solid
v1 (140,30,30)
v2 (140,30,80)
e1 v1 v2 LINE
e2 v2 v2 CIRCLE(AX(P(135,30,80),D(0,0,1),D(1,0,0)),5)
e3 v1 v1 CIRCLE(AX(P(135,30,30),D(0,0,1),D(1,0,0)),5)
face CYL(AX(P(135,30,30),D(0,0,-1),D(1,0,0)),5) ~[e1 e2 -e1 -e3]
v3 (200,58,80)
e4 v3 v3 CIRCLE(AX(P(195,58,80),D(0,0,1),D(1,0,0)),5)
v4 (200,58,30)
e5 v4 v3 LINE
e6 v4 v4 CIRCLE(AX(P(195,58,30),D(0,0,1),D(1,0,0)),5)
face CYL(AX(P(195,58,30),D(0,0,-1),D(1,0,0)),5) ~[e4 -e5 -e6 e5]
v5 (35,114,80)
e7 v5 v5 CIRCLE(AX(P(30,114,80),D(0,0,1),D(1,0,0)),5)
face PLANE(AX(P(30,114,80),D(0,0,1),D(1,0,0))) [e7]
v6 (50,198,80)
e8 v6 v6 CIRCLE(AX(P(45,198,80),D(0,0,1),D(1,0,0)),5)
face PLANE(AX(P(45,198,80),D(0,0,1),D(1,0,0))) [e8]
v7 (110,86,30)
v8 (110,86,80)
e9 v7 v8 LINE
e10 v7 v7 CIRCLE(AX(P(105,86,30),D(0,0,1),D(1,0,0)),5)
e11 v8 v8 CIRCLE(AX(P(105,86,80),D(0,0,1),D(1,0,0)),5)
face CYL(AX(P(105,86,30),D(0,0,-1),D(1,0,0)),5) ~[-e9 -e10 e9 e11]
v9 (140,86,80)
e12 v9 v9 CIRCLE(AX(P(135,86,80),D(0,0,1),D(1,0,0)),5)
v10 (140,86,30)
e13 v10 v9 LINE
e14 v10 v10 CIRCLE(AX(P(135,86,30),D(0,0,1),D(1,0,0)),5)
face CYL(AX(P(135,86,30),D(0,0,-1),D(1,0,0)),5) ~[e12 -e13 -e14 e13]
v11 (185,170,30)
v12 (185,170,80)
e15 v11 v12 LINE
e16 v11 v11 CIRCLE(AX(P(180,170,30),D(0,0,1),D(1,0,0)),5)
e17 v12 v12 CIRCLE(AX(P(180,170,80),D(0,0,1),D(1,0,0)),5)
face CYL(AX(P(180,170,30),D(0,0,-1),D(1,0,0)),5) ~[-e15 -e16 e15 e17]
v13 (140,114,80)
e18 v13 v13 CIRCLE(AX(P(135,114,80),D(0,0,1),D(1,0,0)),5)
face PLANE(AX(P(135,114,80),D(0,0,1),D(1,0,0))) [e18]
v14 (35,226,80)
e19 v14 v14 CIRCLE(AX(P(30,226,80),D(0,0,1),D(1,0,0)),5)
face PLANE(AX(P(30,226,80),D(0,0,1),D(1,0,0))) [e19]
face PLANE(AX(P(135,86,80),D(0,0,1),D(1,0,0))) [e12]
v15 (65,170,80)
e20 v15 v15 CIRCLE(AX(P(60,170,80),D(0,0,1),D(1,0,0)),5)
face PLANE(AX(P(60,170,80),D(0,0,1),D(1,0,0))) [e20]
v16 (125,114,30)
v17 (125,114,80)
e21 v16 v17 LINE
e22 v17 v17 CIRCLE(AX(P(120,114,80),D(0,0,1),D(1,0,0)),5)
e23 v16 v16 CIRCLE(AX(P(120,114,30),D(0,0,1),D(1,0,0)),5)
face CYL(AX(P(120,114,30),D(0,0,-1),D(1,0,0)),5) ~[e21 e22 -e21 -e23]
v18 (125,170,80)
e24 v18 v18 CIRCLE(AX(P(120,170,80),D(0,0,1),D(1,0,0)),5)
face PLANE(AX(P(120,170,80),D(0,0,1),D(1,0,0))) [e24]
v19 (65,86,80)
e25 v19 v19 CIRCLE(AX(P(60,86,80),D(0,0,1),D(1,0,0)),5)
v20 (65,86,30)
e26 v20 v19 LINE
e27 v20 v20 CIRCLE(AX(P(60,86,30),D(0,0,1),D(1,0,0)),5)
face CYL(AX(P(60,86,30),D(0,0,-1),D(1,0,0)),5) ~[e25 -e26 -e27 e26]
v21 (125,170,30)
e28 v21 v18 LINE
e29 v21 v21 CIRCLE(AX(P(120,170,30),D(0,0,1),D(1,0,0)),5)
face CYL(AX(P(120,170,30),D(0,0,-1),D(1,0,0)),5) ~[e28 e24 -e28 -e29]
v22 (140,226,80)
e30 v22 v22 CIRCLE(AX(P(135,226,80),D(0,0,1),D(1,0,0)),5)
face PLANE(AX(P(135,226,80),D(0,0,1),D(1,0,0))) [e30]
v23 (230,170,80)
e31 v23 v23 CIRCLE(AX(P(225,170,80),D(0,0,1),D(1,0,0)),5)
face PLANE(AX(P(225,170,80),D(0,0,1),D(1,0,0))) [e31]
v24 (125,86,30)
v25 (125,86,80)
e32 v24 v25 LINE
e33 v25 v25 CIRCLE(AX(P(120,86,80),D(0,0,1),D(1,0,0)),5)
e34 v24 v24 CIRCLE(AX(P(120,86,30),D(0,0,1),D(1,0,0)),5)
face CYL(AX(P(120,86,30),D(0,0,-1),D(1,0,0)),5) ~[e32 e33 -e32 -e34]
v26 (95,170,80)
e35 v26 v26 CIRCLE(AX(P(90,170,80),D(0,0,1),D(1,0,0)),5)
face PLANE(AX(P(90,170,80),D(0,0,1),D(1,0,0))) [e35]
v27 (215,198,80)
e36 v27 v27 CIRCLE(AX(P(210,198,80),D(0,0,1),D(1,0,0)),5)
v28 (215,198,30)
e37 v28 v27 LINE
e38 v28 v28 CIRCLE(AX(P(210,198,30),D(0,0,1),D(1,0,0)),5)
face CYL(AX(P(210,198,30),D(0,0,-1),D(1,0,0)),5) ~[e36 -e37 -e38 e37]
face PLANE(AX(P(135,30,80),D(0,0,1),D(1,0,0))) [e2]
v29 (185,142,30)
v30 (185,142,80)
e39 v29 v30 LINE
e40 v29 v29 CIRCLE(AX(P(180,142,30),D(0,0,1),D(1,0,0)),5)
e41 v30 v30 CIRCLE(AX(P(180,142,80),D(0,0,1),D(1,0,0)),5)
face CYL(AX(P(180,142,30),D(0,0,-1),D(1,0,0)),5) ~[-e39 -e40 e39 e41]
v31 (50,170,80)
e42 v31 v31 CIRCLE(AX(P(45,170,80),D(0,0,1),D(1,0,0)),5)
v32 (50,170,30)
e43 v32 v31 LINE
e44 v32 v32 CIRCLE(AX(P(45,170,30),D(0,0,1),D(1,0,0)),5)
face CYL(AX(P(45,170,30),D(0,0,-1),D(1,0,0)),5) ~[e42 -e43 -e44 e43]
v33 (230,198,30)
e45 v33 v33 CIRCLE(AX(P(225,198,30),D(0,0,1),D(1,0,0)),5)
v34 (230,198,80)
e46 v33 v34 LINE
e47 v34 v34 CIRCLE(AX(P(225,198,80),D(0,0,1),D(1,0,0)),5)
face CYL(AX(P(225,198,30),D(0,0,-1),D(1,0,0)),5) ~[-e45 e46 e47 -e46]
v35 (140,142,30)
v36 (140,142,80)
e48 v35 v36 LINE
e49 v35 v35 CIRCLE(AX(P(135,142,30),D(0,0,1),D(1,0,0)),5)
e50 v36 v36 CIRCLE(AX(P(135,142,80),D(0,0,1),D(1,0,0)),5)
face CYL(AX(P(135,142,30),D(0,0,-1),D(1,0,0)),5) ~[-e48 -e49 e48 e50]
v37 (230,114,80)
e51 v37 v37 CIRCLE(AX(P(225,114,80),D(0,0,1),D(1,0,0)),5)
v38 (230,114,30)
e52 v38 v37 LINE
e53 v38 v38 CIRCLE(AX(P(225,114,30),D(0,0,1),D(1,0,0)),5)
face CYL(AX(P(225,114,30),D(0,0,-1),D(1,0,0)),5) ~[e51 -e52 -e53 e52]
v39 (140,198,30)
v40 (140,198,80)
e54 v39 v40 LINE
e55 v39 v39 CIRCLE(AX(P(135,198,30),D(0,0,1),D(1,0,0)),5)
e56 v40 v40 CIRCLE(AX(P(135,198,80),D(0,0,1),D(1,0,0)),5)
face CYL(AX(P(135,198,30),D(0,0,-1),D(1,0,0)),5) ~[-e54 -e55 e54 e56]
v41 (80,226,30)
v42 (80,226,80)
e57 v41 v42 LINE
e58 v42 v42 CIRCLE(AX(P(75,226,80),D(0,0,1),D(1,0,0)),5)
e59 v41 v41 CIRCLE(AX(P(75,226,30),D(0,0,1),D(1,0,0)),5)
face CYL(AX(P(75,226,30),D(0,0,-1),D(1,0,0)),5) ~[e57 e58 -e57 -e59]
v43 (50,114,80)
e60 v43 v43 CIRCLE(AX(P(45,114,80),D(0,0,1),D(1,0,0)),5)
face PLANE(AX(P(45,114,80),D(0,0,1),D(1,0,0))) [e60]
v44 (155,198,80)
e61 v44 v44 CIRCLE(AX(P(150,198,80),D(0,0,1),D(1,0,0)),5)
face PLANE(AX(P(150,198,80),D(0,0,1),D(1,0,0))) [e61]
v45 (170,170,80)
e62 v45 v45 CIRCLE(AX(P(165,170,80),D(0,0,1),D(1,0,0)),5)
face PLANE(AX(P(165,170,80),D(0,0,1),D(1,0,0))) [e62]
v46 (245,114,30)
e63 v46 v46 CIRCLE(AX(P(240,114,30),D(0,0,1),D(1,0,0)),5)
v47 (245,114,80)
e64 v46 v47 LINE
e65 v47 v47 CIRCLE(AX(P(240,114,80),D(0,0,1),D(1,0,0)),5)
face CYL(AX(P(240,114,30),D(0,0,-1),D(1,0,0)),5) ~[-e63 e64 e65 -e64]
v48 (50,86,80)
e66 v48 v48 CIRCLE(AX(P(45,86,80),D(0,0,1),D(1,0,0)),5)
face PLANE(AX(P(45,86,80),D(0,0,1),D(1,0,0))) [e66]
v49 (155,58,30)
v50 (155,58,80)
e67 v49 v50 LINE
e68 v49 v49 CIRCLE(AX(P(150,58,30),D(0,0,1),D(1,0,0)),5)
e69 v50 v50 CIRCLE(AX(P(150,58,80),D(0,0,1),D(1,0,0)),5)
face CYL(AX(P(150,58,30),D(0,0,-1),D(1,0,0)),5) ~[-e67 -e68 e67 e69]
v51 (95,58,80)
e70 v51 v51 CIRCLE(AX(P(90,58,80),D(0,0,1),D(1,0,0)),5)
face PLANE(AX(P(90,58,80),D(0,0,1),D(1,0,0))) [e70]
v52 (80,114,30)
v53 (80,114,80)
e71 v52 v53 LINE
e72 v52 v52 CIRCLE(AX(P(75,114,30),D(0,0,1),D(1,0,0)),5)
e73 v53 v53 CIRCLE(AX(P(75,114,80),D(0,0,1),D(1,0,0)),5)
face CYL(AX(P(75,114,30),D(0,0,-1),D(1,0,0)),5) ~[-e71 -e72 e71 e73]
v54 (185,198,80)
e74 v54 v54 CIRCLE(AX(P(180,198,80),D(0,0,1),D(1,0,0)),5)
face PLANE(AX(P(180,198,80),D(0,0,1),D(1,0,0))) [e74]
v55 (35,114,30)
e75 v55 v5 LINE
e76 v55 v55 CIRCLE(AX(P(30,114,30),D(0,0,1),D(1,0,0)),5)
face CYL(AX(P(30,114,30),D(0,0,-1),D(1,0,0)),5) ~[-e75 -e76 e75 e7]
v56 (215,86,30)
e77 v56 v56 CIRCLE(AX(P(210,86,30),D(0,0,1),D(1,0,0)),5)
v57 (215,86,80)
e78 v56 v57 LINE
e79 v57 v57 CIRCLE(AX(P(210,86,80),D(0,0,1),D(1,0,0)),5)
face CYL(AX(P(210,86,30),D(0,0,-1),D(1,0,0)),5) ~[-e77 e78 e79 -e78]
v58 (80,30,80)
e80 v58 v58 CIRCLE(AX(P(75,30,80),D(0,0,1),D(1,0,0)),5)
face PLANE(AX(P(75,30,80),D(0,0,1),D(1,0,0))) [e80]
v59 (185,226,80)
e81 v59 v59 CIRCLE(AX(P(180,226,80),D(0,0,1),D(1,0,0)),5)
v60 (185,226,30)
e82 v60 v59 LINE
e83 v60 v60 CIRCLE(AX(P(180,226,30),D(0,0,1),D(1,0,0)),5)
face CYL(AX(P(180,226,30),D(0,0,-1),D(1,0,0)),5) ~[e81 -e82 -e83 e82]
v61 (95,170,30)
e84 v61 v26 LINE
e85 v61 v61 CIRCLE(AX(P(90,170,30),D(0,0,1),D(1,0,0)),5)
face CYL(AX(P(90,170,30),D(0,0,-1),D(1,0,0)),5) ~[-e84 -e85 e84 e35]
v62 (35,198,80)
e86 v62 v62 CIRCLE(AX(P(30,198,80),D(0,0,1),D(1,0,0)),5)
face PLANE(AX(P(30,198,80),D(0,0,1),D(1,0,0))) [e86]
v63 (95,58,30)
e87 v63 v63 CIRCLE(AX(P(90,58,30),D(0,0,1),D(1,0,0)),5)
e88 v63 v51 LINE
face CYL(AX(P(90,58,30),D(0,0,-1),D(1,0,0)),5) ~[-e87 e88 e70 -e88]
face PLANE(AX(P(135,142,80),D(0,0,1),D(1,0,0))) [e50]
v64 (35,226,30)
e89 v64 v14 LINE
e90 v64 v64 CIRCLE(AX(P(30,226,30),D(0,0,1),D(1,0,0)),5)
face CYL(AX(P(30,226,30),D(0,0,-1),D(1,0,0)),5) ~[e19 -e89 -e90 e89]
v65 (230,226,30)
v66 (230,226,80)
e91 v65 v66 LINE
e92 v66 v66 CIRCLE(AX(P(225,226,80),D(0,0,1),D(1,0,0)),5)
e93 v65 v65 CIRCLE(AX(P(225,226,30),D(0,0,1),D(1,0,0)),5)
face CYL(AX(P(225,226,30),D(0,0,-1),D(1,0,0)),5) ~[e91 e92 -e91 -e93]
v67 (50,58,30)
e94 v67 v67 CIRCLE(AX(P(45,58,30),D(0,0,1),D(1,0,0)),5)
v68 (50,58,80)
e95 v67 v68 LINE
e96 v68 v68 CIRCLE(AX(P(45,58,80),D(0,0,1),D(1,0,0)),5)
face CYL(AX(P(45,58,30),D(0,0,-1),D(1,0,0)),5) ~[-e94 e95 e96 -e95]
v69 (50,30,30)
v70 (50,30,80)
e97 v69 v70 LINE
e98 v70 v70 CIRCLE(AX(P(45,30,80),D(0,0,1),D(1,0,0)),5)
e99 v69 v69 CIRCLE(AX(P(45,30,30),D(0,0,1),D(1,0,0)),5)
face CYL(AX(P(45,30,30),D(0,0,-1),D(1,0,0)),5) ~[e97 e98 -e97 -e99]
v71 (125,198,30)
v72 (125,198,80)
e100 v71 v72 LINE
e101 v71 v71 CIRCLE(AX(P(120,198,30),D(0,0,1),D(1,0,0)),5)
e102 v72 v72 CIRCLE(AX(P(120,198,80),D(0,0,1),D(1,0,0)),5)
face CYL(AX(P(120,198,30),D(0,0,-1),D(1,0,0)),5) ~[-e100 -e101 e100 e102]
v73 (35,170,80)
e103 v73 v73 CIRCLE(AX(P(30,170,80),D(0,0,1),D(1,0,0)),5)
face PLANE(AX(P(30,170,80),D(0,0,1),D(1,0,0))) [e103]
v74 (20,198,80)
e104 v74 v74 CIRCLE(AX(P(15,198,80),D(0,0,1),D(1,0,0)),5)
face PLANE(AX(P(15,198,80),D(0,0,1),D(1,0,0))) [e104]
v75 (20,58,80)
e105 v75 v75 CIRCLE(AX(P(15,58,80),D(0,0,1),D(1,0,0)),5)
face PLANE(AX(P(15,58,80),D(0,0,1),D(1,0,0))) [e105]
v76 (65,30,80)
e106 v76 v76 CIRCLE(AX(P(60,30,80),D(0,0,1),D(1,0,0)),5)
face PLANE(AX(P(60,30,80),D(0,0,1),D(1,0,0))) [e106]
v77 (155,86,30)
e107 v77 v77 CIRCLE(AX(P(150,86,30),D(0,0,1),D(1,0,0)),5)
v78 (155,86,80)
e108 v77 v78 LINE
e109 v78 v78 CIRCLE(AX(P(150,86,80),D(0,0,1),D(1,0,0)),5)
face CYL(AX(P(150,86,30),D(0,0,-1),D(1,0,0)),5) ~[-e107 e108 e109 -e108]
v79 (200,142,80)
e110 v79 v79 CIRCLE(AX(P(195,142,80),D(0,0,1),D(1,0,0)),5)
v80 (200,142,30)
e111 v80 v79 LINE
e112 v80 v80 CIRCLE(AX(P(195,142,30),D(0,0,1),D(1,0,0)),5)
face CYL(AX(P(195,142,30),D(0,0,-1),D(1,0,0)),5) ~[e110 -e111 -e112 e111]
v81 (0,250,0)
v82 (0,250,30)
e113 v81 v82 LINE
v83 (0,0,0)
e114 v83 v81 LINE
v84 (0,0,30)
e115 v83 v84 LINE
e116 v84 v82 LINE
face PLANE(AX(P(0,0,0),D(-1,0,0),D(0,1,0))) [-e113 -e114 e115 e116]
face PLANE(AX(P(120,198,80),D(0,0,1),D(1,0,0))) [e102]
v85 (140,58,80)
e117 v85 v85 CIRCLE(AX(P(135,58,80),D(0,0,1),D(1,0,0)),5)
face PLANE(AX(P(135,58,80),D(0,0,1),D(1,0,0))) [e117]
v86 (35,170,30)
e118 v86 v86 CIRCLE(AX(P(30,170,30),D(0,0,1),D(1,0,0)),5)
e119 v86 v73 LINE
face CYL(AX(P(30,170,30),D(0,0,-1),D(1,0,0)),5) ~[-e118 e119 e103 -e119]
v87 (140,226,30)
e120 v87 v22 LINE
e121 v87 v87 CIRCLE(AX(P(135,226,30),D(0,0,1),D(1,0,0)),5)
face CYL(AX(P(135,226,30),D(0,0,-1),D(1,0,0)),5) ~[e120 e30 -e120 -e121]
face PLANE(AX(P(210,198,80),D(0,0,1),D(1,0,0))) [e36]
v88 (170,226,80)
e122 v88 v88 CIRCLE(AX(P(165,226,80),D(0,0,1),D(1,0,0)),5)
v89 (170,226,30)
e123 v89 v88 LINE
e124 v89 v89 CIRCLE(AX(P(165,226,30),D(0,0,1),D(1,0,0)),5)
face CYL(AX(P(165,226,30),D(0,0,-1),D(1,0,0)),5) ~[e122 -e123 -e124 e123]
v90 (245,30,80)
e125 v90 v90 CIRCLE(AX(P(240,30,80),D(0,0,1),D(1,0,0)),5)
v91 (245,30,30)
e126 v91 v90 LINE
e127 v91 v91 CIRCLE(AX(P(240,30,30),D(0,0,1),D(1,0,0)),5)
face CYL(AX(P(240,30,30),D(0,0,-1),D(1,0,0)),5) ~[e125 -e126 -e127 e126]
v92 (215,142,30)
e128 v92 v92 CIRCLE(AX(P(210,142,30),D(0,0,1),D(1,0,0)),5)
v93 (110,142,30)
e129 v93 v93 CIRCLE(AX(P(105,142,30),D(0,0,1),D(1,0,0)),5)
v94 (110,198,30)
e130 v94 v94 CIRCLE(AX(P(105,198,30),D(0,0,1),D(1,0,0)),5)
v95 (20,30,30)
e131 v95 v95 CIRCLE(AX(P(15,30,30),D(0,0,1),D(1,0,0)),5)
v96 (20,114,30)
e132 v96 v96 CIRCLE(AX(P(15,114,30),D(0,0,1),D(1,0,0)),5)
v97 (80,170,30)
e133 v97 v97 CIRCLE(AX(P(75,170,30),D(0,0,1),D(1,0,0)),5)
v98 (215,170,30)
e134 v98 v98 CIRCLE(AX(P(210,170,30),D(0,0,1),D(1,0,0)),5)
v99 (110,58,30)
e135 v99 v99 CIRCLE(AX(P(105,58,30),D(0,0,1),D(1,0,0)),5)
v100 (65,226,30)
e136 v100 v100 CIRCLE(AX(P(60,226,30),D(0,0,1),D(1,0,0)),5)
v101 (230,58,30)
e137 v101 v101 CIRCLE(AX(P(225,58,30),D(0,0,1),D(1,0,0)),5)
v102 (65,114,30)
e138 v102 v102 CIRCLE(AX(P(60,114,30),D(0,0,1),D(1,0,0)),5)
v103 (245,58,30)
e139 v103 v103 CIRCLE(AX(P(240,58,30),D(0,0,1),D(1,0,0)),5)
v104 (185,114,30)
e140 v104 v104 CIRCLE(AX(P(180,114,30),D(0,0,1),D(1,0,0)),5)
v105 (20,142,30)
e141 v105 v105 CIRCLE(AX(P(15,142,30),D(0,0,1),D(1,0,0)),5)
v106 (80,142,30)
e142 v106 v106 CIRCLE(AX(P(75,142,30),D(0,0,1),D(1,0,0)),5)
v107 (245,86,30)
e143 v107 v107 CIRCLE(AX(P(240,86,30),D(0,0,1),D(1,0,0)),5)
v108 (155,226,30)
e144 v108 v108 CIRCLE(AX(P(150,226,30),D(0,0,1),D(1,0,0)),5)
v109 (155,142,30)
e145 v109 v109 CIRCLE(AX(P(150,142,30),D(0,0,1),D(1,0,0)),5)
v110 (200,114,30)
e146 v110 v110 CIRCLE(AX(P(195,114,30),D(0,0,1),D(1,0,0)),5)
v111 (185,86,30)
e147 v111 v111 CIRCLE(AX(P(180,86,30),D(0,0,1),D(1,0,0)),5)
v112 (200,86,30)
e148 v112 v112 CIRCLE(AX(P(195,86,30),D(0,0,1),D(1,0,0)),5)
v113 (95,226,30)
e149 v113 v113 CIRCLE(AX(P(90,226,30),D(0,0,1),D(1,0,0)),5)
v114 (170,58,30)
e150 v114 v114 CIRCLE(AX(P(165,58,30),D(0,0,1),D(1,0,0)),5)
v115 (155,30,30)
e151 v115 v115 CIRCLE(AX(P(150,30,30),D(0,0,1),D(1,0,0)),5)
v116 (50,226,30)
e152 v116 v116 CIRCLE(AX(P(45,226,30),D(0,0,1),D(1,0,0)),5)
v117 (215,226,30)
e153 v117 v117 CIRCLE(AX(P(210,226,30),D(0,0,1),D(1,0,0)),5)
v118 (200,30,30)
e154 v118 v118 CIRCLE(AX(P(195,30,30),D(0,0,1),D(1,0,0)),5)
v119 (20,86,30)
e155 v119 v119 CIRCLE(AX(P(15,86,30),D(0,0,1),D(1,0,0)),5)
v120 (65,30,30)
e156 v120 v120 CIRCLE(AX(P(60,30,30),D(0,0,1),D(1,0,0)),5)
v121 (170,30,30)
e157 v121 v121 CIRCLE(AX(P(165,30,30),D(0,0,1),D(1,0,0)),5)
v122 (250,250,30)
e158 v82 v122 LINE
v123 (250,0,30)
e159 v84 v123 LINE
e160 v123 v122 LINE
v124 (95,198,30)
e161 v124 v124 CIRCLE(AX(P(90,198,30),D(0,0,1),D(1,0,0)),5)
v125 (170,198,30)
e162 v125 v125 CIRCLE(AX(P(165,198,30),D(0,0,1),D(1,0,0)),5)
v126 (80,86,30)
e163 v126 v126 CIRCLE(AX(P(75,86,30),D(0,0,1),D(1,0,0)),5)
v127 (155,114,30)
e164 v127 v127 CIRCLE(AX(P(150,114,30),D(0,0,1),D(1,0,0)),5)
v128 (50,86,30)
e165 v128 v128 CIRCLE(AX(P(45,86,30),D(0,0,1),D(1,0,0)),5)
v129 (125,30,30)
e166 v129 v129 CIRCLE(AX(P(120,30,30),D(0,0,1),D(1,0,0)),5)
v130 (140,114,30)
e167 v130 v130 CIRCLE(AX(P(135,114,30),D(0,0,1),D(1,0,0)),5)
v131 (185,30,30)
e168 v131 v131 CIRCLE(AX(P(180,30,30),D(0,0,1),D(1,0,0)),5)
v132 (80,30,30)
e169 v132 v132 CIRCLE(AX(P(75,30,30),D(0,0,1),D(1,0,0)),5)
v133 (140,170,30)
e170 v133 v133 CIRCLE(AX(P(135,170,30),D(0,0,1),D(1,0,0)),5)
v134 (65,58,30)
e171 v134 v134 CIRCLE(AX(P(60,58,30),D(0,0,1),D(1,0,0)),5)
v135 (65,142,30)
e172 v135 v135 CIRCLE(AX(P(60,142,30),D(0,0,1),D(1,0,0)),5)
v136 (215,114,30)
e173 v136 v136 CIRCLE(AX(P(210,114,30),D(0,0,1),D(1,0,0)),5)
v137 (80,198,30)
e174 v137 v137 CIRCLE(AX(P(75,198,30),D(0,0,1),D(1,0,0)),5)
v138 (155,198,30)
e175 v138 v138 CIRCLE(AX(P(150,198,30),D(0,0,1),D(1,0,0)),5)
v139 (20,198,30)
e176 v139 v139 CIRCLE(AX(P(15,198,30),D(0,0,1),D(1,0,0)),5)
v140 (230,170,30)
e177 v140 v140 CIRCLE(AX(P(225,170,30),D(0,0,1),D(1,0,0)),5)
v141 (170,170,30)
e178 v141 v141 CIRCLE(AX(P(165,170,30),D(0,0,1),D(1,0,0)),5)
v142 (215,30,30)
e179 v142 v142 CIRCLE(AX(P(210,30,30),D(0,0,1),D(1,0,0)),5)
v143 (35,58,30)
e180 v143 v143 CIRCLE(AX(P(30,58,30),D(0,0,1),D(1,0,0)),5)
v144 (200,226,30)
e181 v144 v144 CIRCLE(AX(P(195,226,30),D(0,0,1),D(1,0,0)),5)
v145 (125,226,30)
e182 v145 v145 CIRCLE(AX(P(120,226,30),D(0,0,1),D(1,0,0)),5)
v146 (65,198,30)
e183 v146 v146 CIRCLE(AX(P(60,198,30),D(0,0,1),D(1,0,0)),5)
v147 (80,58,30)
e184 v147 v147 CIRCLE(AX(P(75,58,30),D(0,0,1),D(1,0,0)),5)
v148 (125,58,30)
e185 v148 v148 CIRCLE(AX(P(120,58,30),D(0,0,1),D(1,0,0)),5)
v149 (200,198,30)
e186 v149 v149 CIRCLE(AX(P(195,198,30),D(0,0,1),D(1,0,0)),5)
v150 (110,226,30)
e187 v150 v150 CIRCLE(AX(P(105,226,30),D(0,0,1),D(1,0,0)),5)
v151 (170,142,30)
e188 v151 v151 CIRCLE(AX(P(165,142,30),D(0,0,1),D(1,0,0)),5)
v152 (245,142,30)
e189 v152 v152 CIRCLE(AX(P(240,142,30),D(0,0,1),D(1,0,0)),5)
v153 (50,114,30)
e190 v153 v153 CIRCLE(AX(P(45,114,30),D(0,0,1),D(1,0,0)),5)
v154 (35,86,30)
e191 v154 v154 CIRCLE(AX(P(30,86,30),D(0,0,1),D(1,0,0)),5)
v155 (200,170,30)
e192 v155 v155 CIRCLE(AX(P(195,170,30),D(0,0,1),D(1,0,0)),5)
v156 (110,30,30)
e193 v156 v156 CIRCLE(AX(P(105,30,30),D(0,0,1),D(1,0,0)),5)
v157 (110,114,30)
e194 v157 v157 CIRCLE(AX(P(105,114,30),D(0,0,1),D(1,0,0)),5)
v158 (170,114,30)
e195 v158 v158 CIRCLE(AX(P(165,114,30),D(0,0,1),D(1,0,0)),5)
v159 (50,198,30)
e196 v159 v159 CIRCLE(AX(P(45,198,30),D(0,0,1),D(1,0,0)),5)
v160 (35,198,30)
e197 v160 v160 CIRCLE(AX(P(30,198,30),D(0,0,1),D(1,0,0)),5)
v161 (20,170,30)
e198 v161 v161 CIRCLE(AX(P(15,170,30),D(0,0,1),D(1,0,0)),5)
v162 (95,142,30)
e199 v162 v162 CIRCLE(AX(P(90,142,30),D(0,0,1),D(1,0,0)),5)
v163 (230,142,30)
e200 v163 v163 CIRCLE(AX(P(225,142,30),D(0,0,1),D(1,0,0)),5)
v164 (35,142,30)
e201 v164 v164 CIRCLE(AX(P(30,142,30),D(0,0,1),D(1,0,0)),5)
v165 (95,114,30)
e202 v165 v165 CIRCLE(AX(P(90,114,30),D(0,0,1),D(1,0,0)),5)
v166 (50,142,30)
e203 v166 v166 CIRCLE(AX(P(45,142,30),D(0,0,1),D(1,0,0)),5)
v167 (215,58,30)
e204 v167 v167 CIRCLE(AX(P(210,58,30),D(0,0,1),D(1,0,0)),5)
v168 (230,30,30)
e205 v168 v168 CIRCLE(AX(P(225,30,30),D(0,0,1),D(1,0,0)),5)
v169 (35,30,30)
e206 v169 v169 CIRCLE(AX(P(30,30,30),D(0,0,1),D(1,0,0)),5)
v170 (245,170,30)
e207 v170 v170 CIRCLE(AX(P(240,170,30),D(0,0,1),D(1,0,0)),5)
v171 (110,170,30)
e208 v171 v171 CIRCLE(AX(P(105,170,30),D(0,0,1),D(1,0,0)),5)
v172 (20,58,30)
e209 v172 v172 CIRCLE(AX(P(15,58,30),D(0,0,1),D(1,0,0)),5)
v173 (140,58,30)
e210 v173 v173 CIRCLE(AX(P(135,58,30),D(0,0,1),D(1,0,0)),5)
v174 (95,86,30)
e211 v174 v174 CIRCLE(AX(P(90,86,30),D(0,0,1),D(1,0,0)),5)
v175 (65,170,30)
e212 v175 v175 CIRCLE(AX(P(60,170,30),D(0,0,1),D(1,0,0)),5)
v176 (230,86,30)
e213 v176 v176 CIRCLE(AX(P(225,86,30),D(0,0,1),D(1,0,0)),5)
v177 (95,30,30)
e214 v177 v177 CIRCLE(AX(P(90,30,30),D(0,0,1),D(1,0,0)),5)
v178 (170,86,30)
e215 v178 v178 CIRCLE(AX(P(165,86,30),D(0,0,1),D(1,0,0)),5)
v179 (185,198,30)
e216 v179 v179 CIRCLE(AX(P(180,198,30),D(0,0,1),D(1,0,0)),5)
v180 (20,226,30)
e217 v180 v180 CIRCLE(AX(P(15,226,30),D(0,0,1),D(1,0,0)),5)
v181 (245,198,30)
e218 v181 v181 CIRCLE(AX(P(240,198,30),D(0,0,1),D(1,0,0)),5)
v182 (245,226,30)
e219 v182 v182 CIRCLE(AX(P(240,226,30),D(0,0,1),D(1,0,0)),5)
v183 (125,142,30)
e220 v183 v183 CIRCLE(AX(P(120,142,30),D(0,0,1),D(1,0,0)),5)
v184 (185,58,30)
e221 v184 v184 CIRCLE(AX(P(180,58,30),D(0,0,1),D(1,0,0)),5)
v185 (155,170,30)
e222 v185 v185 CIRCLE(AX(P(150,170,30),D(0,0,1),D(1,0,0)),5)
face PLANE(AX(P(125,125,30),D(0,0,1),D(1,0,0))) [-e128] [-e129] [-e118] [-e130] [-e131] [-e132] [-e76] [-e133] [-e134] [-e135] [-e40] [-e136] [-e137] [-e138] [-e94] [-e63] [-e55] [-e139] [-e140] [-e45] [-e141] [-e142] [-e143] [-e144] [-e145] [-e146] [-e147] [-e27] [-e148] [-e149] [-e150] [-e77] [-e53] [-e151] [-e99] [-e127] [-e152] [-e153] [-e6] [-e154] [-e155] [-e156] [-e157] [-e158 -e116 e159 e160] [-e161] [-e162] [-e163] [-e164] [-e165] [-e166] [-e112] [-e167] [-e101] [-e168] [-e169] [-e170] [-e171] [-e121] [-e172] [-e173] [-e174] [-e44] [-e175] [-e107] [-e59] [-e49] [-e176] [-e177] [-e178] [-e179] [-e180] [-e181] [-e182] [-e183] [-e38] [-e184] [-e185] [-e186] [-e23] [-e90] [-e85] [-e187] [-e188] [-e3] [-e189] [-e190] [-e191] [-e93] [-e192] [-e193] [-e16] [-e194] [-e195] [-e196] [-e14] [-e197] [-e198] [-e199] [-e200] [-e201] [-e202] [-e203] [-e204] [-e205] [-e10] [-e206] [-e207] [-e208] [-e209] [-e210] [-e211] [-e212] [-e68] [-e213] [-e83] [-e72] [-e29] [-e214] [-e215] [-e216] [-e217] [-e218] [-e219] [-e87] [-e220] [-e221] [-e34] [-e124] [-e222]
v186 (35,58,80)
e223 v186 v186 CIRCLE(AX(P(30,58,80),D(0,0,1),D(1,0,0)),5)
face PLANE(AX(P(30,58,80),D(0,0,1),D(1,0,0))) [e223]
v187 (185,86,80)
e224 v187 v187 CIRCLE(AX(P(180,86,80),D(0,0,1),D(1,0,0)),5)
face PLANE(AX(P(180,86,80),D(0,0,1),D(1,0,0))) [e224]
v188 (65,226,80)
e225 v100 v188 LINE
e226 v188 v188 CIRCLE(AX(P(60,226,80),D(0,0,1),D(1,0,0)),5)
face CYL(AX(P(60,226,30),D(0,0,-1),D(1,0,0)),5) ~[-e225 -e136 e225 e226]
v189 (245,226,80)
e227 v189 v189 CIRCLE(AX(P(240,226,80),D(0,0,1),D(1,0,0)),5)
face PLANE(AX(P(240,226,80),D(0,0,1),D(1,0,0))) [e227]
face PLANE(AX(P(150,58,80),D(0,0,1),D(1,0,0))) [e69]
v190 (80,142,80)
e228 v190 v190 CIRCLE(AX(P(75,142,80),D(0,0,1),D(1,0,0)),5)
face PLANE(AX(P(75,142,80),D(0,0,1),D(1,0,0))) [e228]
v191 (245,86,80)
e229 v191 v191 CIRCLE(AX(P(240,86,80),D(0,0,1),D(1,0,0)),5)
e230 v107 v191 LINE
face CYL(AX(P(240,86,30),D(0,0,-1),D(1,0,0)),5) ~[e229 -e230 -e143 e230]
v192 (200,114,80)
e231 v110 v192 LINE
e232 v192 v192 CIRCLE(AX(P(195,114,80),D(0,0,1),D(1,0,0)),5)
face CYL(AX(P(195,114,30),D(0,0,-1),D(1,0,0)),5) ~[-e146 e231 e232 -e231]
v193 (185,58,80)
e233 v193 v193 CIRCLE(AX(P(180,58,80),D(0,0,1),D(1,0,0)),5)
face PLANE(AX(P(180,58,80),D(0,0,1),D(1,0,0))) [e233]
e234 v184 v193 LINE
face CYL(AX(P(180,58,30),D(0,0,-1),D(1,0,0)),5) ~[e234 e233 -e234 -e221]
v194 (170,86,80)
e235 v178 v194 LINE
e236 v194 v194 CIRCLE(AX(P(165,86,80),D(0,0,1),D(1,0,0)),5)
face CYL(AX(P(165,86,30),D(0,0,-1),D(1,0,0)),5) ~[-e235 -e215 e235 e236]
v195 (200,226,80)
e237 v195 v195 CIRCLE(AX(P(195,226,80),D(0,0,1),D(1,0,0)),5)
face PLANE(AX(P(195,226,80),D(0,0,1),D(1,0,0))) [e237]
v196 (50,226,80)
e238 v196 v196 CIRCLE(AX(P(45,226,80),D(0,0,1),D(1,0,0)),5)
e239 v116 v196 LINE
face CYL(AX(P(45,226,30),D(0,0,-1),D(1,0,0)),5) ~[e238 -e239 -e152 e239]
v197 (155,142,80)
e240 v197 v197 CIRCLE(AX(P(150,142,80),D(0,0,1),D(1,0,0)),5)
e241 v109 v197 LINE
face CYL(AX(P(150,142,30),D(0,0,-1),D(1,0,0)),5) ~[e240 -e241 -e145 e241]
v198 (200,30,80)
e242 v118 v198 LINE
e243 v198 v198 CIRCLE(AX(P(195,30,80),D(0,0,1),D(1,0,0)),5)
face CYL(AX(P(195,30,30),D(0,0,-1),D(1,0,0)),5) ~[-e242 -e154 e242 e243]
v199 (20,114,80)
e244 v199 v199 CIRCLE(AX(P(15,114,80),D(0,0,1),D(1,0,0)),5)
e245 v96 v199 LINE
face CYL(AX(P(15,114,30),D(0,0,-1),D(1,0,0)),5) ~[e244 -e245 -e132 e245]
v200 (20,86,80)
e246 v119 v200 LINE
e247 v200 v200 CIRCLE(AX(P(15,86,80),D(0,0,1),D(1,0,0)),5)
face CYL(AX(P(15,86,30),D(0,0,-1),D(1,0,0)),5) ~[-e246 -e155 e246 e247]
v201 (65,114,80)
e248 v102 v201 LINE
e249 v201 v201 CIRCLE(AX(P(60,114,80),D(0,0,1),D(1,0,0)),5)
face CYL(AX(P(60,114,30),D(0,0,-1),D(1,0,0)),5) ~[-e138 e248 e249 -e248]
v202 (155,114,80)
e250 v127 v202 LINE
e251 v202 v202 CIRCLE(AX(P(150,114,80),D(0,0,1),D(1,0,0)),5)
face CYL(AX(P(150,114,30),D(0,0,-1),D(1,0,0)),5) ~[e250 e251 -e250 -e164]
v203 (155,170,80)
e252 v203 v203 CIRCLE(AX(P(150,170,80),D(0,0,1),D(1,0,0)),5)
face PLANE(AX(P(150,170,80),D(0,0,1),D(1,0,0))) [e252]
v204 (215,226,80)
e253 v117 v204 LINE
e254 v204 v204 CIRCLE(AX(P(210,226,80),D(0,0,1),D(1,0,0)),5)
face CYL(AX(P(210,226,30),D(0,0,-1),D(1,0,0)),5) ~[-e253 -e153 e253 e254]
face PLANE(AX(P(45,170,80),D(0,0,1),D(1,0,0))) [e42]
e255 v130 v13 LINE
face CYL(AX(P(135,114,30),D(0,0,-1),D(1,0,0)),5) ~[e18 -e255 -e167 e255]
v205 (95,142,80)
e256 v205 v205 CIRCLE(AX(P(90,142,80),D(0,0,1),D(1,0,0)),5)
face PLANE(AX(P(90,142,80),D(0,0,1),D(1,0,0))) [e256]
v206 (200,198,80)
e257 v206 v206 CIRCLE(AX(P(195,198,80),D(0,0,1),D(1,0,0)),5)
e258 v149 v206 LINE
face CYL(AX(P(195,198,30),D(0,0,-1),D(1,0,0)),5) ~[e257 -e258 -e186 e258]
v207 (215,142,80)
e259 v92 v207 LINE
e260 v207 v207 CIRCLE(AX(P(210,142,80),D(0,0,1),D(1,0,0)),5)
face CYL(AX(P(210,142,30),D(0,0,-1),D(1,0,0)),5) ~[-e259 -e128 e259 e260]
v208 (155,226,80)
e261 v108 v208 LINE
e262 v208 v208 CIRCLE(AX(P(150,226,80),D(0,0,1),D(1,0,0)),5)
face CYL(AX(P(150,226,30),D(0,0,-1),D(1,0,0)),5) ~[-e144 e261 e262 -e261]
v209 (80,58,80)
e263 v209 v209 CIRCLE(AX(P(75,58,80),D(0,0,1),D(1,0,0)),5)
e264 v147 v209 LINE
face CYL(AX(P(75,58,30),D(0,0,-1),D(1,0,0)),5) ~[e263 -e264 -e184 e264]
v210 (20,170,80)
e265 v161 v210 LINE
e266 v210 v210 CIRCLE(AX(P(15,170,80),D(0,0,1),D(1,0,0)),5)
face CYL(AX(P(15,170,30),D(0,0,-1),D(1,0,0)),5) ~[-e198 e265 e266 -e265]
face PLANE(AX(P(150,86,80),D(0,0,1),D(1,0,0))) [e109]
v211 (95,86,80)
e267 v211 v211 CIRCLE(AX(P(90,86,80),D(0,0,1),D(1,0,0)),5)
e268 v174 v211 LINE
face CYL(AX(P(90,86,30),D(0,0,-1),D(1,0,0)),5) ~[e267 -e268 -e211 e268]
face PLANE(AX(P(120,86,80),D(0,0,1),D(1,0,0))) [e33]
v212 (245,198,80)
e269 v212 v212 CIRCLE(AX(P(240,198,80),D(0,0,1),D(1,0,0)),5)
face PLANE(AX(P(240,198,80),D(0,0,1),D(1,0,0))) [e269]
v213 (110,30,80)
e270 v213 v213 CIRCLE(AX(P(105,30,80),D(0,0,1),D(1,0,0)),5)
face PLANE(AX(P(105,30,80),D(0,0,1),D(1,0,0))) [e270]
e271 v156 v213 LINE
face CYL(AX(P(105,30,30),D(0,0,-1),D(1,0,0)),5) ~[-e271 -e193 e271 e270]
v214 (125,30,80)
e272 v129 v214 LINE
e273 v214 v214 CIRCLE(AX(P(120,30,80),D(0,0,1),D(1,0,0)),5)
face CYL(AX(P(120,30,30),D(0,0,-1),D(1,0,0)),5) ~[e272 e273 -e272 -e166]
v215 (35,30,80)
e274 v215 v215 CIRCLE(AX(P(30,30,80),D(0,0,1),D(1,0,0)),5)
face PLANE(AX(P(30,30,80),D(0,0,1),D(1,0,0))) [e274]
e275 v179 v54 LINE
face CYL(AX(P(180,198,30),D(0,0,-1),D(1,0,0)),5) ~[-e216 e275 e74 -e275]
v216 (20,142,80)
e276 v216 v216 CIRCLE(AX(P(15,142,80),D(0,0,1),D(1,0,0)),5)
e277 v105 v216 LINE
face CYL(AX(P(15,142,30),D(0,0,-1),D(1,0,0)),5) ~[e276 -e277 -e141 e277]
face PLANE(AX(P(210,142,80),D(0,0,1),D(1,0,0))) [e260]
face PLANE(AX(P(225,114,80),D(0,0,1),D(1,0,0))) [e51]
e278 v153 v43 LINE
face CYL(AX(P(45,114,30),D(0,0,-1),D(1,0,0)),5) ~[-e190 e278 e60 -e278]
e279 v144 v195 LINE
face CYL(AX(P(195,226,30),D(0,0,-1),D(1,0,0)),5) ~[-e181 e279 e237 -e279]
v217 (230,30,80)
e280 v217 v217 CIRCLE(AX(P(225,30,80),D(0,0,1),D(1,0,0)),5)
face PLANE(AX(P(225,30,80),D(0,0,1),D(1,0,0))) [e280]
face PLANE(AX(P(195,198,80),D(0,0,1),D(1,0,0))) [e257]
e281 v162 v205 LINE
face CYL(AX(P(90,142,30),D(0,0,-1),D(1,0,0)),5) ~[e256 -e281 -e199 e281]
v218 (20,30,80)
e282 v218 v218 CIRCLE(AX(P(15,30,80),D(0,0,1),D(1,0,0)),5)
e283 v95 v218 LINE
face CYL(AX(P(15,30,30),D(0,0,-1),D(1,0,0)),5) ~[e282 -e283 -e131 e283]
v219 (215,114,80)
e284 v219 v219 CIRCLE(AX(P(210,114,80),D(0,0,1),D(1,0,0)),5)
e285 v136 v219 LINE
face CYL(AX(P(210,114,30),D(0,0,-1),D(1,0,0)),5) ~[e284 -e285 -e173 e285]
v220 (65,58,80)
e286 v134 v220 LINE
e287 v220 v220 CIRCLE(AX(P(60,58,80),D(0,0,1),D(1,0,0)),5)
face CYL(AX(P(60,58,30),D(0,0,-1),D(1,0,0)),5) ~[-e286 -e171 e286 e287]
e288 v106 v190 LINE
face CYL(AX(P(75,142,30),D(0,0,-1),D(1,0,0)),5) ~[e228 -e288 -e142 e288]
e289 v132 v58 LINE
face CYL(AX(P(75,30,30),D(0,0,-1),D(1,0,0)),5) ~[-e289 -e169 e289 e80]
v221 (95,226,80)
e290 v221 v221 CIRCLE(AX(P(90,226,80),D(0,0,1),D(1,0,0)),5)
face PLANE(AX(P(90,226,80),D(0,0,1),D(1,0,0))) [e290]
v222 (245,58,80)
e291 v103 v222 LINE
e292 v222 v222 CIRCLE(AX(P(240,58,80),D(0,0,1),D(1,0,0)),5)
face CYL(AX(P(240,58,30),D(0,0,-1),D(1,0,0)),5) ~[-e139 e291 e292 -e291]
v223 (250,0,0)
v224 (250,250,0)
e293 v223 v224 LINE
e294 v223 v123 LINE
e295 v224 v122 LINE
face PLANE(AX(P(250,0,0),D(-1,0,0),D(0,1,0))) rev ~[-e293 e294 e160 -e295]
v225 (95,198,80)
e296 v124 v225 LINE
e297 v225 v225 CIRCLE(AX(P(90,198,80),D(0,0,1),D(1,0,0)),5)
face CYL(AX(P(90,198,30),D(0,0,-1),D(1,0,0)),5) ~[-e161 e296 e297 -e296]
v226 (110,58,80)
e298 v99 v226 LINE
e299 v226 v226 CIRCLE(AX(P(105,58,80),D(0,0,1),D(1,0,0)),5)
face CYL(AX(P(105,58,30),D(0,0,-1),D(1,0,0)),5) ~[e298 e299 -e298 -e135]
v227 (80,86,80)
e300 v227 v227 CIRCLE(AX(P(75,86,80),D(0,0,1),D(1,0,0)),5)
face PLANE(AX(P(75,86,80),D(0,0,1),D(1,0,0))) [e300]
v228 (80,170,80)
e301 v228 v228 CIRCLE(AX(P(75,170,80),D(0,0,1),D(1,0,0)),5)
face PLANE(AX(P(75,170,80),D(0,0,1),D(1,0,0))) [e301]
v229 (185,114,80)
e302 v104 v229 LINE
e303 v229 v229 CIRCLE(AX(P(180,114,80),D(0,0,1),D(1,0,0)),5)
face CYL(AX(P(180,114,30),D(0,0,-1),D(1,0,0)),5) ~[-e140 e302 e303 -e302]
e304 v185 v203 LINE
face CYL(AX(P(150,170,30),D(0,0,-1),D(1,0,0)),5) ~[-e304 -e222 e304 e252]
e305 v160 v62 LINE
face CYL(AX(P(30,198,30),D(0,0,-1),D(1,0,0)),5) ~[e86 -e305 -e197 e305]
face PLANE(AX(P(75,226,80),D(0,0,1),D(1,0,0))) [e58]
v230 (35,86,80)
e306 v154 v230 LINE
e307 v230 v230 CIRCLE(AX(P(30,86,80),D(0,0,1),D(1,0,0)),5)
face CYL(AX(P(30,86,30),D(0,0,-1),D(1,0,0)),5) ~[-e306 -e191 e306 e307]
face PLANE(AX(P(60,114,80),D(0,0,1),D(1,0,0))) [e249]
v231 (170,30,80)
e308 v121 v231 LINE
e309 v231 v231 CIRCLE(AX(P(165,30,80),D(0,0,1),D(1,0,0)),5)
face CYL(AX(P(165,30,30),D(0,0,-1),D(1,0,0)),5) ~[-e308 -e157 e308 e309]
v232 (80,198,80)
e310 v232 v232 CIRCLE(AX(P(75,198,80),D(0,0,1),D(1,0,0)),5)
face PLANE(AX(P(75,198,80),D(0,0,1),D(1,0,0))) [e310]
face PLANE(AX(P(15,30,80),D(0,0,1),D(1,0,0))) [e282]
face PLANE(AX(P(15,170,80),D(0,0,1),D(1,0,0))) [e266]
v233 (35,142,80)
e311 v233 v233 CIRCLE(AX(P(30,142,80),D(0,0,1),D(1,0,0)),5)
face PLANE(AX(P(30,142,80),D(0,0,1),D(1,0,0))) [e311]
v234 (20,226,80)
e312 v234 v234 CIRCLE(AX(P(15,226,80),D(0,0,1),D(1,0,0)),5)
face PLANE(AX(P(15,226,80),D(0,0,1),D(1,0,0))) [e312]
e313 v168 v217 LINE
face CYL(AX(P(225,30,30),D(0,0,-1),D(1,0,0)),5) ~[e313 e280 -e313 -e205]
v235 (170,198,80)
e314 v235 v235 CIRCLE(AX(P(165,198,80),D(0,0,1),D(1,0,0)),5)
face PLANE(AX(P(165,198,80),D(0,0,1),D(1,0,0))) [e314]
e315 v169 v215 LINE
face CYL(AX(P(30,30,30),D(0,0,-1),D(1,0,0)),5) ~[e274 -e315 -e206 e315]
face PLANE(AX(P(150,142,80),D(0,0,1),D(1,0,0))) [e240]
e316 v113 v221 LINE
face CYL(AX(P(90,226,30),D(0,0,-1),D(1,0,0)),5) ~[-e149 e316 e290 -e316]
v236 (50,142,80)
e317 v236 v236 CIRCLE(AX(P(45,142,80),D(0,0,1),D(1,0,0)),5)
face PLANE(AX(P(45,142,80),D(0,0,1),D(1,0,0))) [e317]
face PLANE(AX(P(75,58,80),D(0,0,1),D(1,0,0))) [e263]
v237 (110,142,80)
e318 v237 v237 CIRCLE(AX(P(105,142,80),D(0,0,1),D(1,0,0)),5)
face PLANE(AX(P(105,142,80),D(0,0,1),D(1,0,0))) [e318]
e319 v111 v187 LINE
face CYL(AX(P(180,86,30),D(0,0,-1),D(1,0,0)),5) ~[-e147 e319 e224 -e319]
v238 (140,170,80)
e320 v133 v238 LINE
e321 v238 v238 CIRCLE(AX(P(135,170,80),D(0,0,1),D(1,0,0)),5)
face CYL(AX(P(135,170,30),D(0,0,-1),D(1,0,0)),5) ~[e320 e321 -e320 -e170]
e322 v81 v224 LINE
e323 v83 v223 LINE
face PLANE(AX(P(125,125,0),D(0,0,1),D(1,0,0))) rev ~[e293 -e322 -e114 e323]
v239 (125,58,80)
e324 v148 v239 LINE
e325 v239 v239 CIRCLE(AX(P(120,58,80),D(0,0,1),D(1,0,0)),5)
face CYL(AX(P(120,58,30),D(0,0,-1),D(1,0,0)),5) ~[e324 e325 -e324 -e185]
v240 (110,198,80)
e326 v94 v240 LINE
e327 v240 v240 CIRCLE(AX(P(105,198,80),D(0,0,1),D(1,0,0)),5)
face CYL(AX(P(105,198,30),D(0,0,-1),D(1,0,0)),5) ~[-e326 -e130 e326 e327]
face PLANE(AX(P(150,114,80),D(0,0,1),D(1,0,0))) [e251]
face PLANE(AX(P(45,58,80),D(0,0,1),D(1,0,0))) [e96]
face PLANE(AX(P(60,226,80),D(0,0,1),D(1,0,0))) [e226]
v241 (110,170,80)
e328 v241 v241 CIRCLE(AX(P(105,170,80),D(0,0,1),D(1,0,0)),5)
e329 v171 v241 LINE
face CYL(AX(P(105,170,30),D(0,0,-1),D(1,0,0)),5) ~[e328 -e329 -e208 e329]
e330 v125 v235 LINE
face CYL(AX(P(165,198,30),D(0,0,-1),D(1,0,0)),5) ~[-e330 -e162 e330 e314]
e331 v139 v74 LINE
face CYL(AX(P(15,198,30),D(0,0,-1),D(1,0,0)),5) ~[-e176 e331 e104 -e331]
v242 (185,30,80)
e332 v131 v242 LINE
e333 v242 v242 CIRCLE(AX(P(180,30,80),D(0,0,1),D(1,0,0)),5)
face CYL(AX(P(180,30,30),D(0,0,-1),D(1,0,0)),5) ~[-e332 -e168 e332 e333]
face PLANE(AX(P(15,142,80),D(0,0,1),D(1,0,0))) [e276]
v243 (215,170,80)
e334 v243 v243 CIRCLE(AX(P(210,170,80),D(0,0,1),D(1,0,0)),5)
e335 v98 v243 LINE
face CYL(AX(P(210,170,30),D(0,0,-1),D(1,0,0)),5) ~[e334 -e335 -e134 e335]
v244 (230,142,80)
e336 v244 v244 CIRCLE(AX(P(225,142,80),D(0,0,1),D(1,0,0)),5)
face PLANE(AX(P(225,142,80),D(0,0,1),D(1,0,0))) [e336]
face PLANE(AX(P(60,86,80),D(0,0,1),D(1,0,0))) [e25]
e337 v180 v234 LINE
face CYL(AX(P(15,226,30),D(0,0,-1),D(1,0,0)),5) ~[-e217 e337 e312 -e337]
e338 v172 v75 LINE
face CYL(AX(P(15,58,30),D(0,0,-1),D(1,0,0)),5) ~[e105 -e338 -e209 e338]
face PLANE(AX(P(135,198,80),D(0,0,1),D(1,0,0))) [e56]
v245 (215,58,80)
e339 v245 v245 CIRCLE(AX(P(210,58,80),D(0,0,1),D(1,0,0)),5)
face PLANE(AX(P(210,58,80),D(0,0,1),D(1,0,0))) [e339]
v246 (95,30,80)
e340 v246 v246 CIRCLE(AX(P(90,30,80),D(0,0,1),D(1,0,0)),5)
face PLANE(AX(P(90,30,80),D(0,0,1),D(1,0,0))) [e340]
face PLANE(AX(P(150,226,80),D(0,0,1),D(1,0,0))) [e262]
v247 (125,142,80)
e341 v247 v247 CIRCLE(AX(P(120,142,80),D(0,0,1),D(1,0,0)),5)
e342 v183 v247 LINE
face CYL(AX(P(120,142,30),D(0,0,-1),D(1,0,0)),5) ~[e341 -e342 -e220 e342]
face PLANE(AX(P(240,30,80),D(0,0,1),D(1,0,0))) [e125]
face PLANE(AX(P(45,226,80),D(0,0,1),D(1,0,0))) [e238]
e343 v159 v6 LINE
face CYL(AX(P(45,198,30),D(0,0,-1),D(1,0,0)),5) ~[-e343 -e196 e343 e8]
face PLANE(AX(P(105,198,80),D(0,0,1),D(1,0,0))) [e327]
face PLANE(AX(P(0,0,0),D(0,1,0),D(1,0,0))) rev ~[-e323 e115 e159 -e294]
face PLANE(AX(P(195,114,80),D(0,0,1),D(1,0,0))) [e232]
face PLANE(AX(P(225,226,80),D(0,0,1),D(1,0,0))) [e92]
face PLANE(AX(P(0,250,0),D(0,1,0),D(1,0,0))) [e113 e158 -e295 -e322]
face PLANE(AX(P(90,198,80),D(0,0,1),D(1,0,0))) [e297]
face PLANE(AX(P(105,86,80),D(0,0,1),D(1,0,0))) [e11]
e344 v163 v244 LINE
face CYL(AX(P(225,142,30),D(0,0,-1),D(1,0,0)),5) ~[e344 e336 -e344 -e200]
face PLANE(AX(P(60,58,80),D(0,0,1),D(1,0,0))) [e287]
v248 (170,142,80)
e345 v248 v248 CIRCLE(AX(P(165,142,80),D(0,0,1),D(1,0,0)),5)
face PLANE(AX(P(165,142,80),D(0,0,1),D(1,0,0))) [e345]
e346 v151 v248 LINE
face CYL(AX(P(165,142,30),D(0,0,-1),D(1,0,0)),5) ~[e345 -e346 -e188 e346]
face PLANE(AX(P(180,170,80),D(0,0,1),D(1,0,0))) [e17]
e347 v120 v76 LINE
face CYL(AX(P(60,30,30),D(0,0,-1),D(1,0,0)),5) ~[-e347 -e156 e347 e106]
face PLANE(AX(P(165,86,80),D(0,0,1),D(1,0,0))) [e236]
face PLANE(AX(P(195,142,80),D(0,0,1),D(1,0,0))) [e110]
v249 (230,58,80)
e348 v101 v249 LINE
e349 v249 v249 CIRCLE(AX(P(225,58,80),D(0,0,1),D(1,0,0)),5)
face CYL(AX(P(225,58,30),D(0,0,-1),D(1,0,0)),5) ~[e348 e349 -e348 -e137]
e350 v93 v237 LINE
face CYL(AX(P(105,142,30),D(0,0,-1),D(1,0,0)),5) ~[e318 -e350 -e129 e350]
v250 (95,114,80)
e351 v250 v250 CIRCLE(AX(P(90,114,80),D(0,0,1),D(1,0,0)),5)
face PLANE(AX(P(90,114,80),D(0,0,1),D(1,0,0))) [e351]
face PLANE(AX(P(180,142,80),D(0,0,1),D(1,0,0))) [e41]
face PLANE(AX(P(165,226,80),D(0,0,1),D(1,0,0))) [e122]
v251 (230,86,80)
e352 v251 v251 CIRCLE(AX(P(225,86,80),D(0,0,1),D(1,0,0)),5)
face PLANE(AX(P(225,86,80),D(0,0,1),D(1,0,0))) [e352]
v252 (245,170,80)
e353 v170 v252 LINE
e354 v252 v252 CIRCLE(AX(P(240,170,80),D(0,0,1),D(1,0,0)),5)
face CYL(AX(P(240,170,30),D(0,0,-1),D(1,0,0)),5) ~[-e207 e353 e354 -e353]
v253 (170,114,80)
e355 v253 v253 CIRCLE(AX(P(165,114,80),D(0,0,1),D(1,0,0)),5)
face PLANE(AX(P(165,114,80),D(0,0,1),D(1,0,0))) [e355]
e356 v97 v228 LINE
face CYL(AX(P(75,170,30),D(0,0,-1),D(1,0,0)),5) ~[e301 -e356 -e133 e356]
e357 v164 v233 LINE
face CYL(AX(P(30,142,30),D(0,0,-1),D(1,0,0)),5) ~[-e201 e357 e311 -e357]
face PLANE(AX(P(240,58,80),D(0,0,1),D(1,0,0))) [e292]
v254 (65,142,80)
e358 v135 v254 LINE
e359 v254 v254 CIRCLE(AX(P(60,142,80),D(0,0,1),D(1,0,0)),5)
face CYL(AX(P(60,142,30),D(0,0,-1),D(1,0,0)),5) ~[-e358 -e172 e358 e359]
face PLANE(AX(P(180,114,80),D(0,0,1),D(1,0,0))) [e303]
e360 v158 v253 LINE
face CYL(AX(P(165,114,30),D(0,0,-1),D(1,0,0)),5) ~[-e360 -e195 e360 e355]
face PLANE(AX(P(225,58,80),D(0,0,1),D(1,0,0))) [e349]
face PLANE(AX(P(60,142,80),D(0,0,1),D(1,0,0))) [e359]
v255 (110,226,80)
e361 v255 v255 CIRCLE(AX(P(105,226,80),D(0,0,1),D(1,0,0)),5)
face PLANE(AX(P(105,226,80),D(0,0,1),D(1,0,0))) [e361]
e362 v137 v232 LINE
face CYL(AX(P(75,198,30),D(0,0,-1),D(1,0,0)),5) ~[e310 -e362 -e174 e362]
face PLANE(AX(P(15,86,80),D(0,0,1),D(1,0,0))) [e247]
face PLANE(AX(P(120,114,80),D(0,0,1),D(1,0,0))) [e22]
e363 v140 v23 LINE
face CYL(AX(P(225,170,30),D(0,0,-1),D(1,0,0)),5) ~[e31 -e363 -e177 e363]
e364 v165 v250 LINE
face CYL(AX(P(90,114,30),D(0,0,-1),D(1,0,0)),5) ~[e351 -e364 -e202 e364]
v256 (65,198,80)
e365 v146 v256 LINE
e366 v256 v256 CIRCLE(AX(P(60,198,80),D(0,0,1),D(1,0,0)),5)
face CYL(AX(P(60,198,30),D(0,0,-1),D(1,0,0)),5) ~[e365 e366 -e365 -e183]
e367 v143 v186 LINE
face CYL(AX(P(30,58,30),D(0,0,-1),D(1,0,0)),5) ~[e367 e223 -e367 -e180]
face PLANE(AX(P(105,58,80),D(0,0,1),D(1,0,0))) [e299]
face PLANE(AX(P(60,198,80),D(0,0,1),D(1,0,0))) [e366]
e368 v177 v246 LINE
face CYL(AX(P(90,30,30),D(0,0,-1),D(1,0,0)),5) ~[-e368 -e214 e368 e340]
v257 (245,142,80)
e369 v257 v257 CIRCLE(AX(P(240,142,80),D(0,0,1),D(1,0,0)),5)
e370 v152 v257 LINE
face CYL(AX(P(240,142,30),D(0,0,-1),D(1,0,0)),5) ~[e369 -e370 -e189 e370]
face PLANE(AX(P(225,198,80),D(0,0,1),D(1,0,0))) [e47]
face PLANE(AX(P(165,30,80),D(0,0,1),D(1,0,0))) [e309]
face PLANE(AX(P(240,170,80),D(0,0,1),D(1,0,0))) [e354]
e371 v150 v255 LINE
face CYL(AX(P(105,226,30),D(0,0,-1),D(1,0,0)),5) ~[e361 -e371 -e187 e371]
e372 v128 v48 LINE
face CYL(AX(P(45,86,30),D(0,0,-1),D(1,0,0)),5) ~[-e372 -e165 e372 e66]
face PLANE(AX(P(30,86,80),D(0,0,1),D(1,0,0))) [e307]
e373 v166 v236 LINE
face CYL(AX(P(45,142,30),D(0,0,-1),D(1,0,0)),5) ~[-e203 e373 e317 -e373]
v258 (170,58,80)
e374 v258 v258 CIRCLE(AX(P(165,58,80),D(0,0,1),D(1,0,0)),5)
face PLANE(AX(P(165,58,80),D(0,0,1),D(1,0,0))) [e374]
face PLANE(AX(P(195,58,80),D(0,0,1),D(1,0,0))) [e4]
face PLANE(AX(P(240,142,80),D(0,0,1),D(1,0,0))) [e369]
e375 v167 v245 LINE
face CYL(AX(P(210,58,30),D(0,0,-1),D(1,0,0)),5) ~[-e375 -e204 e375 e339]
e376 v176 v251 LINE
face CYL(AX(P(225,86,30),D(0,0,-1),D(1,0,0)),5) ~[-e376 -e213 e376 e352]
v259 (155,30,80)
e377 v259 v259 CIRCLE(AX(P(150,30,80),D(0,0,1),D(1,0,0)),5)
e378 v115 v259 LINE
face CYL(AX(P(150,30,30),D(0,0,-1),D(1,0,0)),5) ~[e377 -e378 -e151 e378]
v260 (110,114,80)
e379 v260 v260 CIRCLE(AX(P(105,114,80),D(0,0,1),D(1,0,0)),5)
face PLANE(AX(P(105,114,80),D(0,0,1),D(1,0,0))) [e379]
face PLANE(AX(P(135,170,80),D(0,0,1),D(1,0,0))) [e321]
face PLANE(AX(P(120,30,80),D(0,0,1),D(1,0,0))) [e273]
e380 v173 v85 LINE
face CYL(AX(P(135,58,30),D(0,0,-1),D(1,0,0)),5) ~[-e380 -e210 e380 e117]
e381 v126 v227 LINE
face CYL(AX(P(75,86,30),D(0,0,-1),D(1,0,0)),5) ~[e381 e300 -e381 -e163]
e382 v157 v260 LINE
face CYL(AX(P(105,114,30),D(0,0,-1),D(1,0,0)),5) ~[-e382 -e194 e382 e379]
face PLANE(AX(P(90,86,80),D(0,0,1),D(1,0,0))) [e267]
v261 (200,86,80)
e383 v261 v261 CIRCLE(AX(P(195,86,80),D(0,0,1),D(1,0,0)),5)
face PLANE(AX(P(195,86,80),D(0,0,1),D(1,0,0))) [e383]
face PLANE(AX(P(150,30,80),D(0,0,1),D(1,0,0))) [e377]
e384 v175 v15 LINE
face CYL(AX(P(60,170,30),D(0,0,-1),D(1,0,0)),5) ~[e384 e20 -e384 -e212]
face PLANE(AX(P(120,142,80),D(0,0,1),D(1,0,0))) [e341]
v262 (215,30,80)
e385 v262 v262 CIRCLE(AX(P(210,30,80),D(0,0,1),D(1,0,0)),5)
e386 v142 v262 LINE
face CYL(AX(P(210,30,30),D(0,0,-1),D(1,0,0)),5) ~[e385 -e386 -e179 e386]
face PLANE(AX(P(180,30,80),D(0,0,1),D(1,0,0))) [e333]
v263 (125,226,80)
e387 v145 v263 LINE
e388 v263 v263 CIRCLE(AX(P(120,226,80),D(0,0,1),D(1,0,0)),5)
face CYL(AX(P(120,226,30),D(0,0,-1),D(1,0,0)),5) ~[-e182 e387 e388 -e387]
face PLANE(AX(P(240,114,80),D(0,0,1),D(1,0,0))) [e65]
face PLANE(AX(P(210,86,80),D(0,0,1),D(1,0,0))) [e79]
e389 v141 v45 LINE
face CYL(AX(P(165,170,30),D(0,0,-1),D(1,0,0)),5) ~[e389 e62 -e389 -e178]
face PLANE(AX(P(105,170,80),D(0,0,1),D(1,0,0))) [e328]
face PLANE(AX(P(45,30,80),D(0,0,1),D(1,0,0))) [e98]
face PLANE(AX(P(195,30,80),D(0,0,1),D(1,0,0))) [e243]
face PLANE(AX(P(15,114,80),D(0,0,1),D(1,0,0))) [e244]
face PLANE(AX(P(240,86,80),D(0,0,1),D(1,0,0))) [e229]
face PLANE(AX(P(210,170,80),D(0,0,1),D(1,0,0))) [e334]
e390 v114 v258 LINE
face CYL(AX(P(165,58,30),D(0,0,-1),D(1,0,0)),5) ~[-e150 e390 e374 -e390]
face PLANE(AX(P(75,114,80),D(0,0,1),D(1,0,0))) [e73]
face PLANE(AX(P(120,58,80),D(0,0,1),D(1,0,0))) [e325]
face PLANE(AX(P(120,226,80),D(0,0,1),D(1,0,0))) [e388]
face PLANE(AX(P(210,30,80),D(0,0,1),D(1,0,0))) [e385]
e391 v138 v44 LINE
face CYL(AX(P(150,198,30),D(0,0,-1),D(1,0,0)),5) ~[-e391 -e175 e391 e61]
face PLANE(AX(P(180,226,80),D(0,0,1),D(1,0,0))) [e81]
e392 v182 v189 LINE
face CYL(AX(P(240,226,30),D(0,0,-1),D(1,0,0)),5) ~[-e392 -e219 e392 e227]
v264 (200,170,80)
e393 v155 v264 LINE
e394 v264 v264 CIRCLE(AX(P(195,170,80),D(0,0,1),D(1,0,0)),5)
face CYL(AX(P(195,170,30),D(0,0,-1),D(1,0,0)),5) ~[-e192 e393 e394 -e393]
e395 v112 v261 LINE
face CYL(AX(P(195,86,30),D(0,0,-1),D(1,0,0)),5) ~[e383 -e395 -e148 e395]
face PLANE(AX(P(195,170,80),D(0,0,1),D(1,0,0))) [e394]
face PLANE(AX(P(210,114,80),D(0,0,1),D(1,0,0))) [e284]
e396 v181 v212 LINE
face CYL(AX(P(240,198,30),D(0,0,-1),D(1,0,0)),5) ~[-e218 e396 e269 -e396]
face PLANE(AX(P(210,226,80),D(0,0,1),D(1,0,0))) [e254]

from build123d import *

# Parameters (mm, degrees)
SKETCH1_W           = 250
SKETCH1_H           = 250
BOSS_EXTRUDE1_DEPTH = 30
SKETCH2_R           = 5
BOSS_EXTRUDE2_DEPTH = 50
LPATTERN1_COUNT     = 8
LPATTERN1_PITCH     = 28


with BuildPart() as part:
    # Sketch1 → Boss-Extrude1 (new body)
    with BuildSketch(Plane.XY):
        with Locations((125, 125)):
            Rectangle(SKETCH1_W, SKETCH1_H)
    extrude(amount=BOSS_EXTRUDE1_DEPTH)

    # Sketch2 → Boss-Extrude2 (add)
    with BuildSketch(Plane.XY.offset(30)):
        with Locations((60, 30)):
            Circle(SKETCH2_R)
        with Locations((15, 30)):
            Circle(SKETCH2_R)
        with Locations((30, 30)):
            Circle(SKETCH2_R)
        with Locations((45, 30)):
            Circle(SKETCH2_R)
        with Locations((75, 30)):
            Circle(SKETCH2_R)
        with Locations((90, 30)):
            Circle(SKETCH2_R)
        with Locations((105, 30)):
            Circle(SKETCH2_R)
        with Locations((120, 30)):
            Circle(SKETCH2_R)
        with Locations((135, 30)):
            Circle(SKETCH2_R)
        with Locations((150, 30)):
            Circle(SKETCH2_R)
        with Locations((165, 30)):
            Circle(SKETCH2_R)
        with Locations((180, 30)):
            Circle(SKETCH2_R)
        with Locations((195, 30)):
            Circle(SKETCH2_R)
        with Locations((210, 30)):
            Circle(SKETCH2_R)
        with Locations((225, 30)):
            Circle(SKETCH2_R)
        with Locations((240, 30)):
            Circle(SKETCH2_R)
    boss_extrude2 = extrude(amount=BOSS_EXTRUDE2_DEPTH)

    # LPattern1: Boss-Extrude2 ×8
    with Locations(*[(0, i * LPATTERN1_PITCH, 0) for i in range(1, LPATTERN1_COUNT)]):
        add(boss_extrude2)


solid = part.part
